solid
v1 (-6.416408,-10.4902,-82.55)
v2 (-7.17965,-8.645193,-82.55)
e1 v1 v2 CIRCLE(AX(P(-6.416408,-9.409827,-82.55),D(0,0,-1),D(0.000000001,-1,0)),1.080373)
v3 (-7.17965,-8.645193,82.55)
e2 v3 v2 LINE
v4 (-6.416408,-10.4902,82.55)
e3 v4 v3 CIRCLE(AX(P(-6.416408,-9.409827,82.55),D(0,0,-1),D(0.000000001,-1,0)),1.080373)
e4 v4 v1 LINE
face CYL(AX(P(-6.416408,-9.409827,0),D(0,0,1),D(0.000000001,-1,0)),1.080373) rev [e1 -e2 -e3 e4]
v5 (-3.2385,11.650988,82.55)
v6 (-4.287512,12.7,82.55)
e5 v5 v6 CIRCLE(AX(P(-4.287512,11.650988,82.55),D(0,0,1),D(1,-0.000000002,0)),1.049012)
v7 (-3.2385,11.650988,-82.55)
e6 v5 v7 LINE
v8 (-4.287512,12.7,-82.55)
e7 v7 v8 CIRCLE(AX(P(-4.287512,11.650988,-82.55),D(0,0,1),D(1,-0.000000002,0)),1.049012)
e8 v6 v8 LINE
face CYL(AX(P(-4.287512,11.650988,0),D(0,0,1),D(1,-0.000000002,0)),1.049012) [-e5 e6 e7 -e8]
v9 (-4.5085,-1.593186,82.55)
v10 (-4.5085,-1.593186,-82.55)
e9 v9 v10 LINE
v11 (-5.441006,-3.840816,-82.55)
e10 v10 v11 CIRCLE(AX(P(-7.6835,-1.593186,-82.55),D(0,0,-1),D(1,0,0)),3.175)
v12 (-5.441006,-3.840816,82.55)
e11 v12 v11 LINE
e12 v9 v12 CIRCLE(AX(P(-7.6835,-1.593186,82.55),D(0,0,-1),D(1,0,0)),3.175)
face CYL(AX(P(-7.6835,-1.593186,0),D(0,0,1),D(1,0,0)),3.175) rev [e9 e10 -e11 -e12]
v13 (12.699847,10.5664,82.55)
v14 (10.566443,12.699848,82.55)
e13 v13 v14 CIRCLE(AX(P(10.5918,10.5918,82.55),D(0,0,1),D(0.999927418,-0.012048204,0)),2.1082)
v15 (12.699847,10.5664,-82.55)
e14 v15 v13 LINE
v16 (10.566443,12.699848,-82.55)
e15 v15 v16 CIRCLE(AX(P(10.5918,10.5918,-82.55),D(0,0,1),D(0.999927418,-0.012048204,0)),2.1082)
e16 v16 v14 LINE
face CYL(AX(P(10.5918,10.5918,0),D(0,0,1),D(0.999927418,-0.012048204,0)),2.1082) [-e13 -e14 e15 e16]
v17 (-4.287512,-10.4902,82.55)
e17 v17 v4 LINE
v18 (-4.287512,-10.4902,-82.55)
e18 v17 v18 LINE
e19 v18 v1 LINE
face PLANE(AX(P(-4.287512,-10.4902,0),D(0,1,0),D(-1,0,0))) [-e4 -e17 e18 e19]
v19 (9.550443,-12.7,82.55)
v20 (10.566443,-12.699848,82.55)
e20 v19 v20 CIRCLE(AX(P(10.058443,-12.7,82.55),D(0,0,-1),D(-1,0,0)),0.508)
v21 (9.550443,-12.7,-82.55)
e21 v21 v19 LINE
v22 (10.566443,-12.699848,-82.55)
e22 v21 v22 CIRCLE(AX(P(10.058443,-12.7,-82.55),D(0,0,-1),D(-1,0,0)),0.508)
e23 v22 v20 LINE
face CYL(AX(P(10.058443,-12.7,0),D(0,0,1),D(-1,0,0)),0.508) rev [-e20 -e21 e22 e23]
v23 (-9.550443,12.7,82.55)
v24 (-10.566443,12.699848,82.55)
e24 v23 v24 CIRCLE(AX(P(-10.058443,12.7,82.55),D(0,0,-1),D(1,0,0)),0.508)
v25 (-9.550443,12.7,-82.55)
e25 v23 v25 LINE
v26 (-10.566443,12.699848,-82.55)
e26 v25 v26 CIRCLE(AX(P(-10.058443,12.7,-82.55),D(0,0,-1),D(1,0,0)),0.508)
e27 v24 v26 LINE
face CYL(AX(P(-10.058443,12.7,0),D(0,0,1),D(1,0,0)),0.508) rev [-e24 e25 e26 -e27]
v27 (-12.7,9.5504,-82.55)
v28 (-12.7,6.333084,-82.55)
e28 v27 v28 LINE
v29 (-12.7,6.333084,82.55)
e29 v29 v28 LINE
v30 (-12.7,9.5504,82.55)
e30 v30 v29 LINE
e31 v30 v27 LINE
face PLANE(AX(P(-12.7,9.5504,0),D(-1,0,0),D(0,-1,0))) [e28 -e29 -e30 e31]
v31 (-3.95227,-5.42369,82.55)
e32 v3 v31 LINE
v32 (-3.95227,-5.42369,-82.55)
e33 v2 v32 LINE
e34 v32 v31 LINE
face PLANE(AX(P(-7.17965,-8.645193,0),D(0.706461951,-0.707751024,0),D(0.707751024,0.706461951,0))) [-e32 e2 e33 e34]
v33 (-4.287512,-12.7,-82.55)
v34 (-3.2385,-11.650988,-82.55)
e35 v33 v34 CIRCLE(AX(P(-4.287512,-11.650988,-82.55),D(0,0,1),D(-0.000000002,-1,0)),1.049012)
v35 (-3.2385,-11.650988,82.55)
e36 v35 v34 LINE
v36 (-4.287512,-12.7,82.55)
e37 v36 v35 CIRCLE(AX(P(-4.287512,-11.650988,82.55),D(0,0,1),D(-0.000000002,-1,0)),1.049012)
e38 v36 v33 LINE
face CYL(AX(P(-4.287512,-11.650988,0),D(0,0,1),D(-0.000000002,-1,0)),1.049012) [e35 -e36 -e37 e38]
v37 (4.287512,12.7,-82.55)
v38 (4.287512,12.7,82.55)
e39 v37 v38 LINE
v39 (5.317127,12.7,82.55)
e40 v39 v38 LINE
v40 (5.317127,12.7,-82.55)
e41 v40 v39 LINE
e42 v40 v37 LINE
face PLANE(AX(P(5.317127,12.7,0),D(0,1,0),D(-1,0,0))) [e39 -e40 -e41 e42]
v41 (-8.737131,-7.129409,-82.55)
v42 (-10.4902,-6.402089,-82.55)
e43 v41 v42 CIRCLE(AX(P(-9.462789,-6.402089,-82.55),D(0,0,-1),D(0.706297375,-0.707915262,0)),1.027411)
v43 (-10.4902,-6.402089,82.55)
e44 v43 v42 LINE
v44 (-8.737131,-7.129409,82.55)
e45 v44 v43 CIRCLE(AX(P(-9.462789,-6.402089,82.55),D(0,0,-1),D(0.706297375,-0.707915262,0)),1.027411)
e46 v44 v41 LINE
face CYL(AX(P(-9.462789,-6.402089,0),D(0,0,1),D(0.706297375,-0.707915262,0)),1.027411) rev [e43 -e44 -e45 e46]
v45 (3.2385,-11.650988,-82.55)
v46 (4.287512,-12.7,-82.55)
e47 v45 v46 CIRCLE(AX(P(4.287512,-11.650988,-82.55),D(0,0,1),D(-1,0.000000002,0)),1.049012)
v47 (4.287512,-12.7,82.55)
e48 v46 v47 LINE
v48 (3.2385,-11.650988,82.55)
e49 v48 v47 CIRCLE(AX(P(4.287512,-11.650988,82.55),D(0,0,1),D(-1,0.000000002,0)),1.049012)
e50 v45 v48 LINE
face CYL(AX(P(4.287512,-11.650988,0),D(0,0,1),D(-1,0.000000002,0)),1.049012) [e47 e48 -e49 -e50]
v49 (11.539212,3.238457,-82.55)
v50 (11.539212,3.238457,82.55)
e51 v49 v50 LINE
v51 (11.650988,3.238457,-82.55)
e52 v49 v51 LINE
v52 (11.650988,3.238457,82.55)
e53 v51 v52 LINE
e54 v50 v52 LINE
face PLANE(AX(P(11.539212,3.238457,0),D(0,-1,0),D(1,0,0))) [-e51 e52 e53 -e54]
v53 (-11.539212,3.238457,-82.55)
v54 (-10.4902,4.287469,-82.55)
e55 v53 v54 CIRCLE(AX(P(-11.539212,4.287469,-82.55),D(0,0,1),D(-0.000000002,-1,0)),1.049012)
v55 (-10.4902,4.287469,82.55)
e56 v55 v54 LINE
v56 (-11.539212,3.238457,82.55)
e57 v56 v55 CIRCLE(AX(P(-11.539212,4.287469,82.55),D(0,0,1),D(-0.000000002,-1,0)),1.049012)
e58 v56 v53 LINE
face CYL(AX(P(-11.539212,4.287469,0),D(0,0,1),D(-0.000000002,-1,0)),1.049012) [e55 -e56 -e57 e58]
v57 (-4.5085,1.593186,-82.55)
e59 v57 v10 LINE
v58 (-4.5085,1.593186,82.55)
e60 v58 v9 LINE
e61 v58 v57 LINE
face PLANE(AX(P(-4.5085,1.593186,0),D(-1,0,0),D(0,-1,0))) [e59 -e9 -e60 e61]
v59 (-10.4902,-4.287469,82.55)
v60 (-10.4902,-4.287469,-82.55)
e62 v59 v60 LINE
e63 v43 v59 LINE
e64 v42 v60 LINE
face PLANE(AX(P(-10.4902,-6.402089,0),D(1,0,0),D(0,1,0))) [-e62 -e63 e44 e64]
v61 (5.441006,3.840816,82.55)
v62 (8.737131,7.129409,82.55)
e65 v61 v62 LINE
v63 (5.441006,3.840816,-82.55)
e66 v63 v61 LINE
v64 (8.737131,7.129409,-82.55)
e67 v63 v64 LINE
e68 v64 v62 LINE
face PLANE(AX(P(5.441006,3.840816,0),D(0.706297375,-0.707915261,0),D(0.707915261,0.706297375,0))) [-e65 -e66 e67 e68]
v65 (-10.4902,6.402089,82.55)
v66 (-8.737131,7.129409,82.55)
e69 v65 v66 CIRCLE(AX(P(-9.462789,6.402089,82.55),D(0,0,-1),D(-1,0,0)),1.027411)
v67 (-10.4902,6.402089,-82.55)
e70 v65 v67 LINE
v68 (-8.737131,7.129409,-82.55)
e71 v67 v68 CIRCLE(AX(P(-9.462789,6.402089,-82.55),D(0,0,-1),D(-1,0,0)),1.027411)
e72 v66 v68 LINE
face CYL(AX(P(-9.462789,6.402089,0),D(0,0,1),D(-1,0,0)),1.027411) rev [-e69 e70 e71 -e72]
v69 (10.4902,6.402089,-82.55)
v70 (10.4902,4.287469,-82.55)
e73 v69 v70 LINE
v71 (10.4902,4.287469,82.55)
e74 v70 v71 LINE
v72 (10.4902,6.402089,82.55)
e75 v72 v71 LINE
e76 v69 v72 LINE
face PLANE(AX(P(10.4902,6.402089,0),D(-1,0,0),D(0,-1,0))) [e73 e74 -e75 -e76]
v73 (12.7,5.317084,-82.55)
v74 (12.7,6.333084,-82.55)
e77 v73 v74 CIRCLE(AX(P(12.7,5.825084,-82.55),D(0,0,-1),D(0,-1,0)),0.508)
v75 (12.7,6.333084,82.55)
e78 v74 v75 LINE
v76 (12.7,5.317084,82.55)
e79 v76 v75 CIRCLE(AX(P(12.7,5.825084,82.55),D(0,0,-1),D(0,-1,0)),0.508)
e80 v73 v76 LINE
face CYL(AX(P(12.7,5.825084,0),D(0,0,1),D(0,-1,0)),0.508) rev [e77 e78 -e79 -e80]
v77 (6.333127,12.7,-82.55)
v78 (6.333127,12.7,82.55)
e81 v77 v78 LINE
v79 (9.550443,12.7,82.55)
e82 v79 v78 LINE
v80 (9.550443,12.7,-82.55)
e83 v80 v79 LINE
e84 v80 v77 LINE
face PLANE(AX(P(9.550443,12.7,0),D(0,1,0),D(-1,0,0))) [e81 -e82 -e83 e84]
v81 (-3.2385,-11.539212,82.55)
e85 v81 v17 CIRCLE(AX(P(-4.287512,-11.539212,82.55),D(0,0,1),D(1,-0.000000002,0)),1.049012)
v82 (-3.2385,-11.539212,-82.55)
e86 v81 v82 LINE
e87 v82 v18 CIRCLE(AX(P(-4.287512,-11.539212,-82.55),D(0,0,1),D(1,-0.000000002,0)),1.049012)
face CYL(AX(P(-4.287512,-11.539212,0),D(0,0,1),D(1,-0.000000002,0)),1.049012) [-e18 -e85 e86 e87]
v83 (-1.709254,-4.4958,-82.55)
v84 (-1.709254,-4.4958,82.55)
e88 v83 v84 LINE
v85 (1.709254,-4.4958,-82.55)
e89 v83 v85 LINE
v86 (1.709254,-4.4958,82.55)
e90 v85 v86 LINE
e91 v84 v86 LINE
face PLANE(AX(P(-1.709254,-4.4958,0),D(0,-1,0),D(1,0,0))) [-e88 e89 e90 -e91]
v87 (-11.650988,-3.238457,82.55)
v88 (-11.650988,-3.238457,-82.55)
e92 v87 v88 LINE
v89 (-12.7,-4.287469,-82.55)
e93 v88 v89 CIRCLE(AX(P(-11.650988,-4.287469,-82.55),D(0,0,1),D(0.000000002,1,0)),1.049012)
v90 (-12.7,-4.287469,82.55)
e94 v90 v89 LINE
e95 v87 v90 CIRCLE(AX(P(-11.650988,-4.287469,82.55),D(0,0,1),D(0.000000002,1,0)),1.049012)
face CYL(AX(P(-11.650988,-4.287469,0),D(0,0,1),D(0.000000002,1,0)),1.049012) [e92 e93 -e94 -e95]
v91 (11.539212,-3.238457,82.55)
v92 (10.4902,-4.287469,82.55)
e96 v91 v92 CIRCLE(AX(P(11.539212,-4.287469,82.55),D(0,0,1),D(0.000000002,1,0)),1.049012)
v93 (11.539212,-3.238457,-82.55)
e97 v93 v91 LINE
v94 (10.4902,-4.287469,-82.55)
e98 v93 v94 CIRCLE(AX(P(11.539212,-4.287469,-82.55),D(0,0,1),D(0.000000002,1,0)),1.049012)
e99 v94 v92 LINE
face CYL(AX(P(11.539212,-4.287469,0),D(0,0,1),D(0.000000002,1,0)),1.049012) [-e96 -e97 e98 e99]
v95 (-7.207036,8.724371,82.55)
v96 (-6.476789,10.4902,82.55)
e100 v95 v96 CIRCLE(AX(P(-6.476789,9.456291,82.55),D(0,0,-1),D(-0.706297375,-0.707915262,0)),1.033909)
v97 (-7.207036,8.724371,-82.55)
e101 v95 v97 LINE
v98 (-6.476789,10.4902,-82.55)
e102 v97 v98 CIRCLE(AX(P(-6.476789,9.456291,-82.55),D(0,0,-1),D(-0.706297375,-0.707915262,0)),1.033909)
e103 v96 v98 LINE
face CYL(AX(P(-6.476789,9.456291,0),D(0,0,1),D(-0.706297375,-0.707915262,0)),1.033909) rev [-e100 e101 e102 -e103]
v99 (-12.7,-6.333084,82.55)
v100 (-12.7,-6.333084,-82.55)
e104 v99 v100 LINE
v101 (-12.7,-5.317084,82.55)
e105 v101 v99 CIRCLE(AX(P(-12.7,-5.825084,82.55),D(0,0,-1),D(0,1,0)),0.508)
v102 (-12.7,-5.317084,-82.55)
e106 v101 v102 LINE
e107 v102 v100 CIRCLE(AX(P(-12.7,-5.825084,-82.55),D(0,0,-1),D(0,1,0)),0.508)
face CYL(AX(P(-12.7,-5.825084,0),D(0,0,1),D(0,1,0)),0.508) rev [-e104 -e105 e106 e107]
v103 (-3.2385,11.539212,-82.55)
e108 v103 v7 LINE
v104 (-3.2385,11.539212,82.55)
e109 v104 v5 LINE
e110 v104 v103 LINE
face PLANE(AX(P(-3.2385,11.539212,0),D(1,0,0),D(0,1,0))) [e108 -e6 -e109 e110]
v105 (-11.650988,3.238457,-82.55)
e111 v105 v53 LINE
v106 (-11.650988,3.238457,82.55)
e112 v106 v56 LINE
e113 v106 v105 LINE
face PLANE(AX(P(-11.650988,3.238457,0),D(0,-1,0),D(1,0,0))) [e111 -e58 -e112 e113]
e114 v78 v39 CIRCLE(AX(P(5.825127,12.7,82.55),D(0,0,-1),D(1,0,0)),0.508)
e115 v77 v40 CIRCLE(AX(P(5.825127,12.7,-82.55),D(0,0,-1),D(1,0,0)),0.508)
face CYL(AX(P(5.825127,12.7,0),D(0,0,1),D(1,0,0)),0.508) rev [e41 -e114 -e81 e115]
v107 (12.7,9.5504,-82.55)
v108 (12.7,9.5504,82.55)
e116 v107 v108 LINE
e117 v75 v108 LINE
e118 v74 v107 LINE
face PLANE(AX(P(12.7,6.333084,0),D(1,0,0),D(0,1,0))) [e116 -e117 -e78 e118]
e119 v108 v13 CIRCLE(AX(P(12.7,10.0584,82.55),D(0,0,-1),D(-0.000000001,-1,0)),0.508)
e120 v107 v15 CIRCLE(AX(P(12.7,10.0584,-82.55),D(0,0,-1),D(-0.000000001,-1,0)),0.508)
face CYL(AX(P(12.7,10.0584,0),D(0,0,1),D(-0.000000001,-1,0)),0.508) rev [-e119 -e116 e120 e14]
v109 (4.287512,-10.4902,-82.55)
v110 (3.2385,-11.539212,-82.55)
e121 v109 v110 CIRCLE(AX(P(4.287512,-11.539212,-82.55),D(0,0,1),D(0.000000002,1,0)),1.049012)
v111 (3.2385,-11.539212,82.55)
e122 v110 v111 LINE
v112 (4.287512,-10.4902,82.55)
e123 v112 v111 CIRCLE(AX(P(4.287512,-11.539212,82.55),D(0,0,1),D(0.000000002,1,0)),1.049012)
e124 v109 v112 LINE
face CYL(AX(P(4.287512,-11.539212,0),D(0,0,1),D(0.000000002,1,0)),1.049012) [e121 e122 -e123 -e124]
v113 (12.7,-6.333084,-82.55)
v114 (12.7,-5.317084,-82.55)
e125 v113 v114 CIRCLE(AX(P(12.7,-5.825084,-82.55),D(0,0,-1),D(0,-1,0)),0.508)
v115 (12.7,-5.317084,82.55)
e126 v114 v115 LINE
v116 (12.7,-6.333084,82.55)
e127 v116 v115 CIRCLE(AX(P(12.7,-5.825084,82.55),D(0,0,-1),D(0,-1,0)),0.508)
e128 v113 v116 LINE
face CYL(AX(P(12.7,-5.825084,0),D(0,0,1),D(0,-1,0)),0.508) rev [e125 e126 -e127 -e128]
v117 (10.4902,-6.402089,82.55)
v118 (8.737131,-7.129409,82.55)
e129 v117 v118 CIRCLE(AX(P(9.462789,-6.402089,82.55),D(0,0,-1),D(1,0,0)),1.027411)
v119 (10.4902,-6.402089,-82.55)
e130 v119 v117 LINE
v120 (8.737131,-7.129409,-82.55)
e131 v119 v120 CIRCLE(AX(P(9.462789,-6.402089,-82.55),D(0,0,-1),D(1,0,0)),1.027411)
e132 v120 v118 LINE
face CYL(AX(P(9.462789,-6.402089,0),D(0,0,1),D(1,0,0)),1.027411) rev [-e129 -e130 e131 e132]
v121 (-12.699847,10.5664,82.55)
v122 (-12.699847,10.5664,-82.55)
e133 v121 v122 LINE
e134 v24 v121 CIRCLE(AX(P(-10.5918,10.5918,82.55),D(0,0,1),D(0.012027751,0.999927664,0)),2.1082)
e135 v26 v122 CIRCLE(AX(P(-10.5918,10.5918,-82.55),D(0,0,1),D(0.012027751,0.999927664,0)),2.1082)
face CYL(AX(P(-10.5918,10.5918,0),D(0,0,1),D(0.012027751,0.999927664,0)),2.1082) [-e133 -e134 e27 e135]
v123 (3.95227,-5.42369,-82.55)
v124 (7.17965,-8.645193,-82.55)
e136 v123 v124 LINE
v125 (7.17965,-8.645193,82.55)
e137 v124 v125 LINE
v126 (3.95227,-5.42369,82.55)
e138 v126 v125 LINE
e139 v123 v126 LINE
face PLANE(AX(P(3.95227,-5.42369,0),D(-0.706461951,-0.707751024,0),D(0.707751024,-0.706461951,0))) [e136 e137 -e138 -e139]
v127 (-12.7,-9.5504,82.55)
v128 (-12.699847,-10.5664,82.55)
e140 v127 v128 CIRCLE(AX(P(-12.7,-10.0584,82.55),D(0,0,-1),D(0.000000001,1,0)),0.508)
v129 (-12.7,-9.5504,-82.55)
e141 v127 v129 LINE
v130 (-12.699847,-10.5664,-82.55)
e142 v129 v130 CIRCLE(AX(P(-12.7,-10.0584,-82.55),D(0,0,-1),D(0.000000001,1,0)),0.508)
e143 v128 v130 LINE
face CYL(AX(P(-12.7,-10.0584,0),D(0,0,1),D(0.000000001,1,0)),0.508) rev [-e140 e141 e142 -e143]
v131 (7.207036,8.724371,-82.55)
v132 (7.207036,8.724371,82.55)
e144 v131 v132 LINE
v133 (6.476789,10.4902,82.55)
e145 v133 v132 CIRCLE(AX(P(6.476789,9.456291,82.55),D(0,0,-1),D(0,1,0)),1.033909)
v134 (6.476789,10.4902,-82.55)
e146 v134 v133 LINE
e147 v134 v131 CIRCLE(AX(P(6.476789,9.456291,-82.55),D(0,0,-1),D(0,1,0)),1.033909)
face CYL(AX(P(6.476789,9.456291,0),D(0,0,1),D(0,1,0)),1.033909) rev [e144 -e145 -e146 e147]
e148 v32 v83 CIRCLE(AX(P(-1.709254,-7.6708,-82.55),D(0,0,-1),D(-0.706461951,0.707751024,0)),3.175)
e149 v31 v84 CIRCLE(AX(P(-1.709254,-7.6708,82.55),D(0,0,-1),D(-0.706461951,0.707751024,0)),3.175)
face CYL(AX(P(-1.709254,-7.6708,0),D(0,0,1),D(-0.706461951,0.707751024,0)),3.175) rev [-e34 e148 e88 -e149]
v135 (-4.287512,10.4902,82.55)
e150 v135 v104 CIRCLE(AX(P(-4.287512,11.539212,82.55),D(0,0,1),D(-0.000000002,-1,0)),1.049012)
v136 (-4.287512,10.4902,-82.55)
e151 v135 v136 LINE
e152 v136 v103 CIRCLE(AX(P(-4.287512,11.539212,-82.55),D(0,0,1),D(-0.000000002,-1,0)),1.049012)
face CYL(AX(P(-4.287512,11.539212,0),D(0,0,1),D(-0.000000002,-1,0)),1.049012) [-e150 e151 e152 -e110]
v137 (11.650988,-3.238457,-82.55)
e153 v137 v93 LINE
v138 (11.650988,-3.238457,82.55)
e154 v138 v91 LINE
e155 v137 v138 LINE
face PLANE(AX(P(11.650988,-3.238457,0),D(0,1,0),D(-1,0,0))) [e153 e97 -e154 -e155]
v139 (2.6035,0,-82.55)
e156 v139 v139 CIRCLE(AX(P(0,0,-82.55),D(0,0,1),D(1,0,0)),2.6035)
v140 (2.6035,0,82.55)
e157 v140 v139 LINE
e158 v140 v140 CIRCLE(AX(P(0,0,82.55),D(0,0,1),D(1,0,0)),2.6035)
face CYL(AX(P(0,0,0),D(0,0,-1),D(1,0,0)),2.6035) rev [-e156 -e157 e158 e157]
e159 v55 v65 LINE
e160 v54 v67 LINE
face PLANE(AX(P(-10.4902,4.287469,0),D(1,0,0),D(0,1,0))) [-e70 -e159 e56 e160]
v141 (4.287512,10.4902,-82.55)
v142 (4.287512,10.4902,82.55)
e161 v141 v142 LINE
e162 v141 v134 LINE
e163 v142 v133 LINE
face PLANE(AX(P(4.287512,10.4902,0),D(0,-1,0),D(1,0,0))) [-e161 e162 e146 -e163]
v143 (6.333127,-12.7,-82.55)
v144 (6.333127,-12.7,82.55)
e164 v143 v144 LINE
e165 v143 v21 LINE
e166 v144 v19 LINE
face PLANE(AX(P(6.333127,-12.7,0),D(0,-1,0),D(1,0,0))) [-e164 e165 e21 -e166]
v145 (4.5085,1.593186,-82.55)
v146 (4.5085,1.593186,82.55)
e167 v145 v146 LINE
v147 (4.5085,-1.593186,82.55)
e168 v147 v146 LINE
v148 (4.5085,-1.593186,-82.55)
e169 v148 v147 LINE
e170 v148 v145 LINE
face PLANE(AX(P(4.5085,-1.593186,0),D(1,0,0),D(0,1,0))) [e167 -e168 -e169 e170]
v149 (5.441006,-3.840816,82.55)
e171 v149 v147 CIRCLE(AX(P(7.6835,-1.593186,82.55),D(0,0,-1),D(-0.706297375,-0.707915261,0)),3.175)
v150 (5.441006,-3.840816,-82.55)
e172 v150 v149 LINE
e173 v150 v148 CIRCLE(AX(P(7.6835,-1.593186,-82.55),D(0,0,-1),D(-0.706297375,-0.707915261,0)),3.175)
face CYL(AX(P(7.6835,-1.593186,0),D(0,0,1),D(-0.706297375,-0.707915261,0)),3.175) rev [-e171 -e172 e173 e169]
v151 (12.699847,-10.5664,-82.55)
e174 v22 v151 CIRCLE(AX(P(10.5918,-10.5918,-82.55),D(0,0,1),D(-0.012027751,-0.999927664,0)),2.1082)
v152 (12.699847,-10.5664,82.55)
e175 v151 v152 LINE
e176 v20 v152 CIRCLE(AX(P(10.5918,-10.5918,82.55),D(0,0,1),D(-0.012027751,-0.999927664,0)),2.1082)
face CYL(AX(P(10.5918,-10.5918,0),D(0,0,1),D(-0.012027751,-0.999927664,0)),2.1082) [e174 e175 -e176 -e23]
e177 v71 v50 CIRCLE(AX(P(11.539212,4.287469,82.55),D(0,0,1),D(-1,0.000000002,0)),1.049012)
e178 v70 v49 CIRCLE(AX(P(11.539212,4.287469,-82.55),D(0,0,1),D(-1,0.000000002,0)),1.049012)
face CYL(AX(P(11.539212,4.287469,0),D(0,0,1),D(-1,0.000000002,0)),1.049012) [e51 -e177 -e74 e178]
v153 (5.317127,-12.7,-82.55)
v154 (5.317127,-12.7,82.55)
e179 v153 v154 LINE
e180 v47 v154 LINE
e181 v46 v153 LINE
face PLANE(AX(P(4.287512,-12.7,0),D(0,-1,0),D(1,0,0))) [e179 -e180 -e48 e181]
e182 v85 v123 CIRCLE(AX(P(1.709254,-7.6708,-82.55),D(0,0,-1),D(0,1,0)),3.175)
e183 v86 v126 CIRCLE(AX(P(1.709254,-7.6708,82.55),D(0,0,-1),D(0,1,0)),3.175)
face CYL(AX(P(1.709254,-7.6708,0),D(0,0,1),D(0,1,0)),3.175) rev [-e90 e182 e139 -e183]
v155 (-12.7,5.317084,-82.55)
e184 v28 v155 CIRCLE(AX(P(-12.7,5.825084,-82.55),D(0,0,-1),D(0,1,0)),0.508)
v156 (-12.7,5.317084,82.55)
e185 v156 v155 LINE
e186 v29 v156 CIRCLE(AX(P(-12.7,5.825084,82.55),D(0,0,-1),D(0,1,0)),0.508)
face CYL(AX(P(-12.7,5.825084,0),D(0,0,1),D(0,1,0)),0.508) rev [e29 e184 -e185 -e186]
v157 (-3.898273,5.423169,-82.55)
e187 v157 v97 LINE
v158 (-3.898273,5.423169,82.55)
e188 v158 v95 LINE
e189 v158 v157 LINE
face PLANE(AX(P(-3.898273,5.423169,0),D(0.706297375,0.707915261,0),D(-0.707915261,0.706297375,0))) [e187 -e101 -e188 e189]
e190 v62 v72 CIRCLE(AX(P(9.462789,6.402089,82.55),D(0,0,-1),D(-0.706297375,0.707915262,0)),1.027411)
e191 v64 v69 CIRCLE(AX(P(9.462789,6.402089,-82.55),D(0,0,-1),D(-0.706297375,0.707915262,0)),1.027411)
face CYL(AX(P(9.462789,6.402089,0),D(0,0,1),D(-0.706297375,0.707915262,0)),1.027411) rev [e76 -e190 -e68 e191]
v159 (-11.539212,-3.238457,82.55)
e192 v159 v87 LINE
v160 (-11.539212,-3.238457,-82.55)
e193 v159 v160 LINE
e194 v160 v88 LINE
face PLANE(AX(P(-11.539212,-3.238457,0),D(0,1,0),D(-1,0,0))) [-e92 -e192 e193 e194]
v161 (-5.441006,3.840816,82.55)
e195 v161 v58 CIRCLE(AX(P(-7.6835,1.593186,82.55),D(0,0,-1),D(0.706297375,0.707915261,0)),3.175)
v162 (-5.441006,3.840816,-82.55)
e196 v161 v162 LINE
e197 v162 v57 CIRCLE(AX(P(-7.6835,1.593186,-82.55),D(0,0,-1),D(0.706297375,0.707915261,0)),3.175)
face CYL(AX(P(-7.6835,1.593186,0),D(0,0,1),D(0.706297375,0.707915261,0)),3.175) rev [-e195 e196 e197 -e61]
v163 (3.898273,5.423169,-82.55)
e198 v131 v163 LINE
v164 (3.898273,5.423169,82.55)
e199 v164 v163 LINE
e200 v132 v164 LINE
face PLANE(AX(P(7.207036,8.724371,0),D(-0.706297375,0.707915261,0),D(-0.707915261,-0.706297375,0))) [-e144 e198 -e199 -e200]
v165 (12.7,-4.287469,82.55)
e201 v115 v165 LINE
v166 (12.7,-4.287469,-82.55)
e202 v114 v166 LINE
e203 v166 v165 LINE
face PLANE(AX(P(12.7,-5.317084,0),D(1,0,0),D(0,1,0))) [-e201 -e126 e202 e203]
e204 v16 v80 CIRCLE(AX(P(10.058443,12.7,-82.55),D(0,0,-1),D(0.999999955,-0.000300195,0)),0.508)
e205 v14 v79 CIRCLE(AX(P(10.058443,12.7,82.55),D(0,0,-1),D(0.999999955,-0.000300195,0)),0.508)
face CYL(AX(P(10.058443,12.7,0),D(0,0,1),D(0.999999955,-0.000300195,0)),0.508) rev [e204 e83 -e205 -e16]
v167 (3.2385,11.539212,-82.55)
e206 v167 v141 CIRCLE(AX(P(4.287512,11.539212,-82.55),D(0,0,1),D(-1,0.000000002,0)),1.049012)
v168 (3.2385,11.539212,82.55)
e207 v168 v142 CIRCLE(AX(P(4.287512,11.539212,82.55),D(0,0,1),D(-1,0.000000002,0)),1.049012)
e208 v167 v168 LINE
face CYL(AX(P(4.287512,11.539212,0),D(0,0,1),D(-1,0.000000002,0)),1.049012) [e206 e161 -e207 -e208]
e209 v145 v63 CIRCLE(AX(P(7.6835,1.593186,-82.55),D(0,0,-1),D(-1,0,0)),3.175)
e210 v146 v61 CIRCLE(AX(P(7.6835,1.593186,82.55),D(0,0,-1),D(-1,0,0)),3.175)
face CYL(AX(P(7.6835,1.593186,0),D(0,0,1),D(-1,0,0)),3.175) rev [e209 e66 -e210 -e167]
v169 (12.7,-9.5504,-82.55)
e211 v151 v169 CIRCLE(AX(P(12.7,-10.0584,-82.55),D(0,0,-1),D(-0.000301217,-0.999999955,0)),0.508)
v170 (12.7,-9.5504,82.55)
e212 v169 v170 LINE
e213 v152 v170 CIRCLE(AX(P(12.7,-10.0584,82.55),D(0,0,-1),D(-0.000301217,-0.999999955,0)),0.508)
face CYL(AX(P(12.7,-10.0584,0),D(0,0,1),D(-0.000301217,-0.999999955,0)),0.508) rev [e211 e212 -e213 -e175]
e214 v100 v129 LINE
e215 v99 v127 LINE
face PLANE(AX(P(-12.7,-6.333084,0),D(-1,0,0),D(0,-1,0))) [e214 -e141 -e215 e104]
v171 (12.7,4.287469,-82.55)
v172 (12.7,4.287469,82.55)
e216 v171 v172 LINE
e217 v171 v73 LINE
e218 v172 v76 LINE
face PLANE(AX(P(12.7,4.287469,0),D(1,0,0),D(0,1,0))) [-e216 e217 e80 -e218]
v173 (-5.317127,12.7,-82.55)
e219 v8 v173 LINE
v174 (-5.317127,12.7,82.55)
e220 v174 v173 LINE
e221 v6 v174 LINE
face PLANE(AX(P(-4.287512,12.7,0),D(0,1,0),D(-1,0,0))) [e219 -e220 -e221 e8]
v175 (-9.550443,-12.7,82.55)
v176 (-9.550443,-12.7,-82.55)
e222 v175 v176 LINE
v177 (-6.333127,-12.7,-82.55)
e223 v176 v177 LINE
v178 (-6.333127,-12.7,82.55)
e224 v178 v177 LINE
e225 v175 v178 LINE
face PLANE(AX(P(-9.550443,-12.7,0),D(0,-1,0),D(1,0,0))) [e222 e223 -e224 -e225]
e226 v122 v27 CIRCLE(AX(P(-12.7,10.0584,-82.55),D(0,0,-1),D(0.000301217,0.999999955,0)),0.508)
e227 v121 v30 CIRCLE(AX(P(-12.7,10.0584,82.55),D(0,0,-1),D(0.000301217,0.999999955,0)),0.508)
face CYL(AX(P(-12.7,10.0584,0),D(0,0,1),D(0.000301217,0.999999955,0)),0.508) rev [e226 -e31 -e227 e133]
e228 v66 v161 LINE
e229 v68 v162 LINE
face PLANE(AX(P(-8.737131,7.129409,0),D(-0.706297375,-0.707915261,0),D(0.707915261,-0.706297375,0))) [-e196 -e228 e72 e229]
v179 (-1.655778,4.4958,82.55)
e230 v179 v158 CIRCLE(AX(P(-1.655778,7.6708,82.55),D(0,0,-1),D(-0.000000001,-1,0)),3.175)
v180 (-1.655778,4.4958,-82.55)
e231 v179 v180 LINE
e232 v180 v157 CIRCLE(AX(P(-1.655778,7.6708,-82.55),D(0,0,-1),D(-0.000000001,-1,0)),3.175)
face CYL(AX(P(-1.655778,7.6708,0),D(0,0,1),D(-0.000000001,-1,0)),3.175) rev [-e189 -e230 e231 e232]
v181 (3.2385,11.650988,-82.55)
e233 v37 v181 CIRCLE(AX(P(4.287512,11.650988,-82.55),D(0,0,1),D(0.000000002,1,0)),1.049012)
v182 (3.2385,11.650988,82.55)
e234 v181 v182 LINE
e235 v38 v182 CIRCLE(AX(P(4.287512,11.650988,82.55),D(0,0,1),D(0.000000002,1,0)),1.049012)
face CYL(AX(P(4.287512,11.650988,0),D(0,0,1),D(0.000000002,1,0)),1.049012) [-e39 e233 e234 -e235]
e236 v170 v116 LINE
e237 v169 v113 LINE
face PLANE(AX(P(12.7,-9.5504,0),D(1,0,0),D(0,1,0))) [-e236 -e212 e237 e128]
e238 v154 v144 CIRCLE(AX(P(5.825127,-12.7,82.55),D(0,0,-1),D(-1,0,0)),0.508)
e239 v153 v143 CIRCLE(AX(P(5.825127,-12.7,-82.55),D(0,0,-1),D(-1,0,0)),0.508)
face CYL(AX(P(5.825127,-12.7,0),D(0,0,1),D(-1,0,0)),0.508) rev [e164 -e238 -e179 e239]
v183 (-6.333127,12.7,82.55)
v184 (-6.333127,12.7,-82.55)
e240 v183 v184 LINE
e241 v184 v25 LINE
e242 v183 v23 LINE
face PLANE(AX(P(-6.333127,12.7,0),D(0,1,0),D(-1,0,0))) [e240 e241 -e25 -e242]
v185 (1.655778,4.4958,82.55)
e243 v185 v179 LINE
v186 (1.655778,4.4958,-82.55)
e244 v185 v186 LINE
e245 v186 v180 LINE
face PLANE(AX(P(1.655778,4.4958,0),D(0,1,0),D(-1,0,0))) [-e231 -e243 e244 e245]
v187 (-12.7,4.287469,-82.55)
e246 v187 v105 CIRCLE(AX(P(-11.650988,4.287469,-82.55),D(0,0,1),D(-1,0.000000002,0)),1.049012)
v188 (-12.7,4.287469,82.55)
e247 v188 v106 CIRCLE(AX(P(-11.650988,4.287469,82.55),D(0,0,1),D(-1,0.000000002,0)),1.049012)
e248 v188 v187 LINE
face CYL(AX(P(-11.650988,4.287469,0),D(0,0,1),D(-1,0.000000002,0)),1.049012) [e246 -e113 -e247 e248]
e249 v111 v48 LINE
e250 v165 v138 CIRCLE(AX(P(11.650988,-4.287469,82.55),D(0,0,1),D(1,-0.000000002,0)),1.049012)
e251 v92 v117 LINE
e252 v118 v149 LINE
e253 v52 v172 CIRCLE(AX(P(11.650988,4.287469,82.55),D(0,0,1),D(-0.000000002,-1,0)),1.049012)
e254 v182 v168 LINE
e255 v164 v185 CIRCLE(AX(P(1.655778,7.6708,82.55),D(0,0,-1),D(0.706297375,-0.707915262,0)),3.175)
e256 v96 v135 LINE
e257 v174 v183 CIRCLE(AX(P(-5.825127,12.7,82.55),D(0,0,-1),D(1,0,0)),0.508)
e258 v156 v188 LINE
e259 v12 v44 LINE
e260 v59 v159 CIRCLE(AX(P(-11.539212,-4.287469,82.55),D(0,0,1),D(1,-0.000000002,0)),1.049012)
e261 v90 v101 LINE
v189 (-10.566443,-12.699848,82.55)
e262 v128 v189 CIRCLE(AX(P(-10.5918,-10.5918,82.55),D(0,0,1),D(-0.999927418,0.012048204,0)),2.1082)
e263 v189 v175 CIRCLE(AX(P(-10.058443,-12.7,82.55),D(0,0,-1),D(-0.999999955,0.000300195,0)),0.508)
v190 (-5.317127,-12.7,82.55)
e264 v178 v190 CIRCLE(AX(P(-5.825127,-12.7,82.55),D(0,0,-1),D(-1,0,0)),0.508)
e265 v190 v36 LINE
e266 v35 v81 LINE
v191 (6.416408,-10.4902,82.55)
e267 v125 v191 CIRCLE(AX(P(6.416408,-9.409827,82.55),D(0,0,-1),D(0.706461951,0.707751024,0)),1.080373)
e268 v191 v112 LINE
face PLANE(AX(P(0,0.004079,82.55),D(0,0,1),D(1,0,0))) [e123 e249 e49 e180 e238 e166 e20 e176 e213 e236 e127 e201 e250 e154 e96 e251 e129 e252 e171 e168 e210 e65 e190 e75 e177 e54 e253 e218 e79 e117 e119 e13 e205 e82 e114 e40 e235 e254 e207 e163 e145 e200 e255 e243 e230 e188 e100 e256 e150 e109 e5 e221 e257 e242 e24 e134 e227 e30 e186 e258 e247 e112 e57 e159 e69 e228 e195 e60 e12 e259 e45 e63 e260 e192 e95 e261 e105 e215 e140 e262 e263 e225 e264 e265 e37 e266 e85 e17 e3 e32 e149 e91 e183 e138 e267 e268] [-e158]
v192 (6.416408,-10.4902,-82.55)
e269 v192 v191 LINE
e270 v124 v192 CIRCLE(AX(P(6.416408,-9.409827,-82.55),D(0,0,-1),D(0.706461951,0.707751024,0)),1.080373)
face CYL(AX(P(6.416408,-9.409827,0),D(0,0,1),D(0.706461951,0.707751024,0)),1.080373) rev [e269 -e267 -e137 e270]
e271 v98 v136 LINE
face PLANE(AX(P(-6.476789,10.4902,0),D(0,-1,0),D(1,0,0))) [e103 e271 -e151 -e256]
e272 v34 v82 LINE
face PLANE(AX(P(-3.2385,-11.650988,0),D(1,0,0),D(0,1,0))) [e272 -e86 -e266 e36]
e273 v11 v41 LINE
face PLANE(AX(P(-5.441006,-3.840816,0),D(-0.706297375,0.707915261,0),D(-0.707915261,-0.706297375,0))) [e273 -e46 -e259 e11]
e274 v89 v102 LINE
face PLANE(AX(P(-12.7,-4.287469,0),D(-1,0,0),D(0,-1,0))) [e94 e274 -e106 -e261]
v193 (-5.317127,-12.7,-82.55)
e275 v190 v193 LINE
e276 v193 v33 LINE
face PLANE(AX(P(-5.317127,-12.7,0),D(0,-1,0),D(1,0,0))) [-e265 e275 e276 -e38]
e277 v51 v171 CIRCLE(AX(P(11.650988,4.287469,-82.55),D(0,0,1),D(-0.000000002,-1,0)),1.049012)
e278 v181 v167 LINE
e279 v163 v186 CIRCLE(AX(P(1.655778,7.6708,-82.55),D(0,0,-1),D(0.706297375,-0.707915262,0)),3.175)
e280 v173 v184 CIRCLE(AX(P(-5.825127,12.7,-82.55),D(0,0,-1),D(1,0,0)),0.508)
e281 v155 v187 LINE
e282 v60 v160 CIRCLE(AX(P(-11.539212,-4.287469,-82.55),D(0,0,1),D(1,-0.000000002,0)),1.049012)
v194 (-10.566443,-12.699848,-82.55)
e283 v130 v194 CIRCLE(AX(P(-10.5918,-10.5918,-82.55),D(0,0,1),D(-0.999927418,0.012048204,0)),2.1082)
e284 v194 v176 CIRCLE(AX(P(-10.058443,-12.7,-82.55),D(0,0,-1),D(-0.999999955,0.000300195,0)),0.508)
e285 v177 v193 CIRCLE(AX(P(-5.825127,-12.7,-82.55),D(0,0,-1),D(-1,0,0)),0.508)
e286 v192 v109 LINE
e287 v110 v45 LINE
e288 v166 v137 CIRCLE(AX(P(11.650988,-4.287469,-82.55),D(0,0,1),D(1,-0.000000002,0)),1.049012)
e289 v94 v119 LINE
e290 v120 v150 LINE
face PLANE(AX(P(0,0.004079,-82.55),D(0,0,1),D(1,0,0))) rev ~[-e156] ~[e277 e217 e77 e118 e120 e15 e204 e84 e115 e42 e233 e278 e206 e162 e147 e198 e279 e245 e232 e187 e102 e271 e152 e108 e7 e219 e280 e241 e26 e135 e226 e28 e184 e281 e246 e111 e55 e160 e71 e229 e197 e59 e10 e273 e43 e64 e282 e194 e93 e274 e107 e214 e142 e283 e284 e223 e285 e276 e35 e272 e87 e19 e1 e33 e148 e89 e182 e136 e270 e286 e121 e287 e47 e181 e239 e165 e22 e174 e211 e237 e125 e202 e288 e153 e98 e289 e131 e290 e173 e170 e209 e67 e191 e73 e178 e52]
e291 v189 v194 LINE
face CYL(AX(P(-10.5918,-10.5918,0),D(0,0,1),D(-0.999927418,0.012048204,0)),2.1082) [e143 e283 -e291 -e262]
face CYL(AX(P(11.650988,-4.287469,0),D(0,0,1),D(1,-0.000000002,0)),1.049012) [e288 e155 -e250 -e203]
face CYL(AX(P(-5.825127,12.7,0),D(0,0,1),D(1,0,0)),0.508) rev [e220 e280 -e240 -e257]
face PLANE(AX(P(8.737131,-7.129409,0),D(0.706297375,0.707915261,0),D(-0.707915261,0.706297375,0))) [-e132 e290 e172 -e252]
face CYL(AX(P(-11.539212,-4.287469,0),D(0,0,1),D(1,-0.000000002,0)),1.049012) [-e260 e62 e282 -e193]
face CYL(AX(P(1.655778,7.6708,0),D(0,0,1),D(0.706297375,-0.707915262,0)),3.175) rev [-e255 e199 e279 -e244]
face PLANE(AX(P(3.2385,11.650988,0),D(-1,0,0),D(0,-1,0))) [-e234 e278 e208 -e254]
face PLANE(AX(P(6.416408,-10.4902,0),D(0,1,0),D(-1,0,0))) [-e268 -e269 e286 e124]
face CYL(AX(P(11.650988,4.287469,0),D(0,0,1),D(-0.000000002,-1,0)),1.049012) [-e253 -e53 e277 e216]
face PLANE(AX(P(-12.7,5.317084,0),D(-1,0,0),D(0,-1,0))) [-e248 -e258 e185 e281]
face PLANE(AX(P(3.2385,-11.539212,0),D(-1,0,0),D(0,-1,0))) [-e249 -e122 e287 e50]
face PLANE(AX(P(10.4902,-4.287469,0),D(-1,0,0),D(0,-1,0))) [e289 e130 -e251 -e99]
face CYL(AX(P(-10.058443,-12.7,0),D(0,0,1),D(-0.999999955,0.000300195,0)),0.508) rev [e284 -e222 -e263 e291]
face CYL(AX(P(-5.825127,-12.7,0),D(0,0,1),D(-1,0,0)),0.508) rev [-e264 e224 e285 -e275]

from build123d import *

# Parameters (mm, degrees)
SKETCH1_R           = 2.6035
BOSS_EXTRUDE1_DEPTH = 82.55


with BuildPart() as part:
    # Sketch1 → Boss-Extrude1 (new body, symmetric)
    with BuildSketch(Plane.XY):
        with BuildLine():
            Line((-7.179650497, -8.645192506), (-3.952270251, -5.423690499))
            ThreePointArc((-3.952270251, -5.423690499), (-2.922936451, -4.736929036), (-1.709253557, -4.4958))
            Line((-1.709253557, -4.4958), (1.709253557, -4.4958))
            ThreePointArc((1.709253557, -4.4958), (2.922936451, -4.736929036), (3.952270251, -5.423690499))
            Line((3.952270251, -5.423690499), (7.179650497, -8.645192506))
            ThreePointArc((7.179650497, -8.645192506), (7.41473083, -9.822813117), (6.416408329, -10.4902))
            Line((6.416408329, -10.4902), (4.287512407, -10.4902))
            ThreePointArc((4.287512407, -10.4902), (3.54574862, -10.79744862), (3.2385, -11.539212407))
            Line((3.2385, -11.539212407), (3.2385, -11.650987593))
            ThreePointArc((3.2385, -11.650987593), (3.54574862, -12.39275138), (4.287512407, -12.7))
            Line((4.287512407, -12.7), (5.317126718, -12.7))
            ThreePointArc((5.317126718, -12.7), (5.825126718, -12.192), (6.333126718, -12.7))
            Line((6.333126718, -12.7), (9.550443118, -12.7))
            ThreePointArc((9.550443118, -12.7), (10.058366869, -12.192000006), (10.566443095, -12.699847501))
            ThreePointArc((10.566443095, -12.699847501), (12.082537762, -12.08250727), (12.699846982, -10.566399977))
            ThreePointArc((12.699846982, -10.566399977), (12.192000006, -10.058323491), (12.7, -9.5504))
            Line((12.7, -9.5504), (12.7, -6.3330836))
            ThreePointArc((12.7, -6.3330836), (12.192, -5.8250836), (12.7, -5.3170836))
            Line((12.7, -5.3170836), (12.7, -4.287469289))
            ThreePointArc((12.7, -4.287469289), (12.39275138, -3.545705502), (11.650987593, -3.238456882))
            Line((11.650987593, -3.238456882), (11.539212407, -3.238456882))
            ThreePointArc((11.539212407, -3.238456882), (10.79744862, -3.545705502), (10.4902, -4.287469289))
            Line((10.4902, -4.287469289), (10.4902, -6.402089023))
            ThreePointArc((10.4902, -6.402089023), (9.856505071, -7.351067942), (8.737131347, -7.129408934))
            Line((8.737131347, -7.129408934), (5.441005833, -3.840816462))
            ThreePointArc((5.441005833, -3.840816462), (4.750877967, -2.809883091), (4.5085, -1.593185507))
            Line((4.5085, -1.593185507), (4.5085, 1.593185507))
            ThreePointArc((4.5085, 1.593185507), (4.750877967, 2.809883091), (5.441005833, 3.840816462))
            Line((5.441005833, 3.840816462), (8.737131347, 7.129408934))
            ThreePointArc((8.737131347, 7.129408934), (9.856505071, 7.351067942), (10.4902, 6.402089023))
            Line((10.4902, 6.402089023), (10.4902, 4.287469289))
            ThreePointArc((10.4902, 4.287469289), (10.79744862, 3.545705502), (11.539212407, 3.238456882))
            Line((11.539212407, 3.238456882), (11.650987593, 3.238456882))
            ThreePointArc((11.650987593, 3.238456882), (12.39275138, 3.545705502), (12.7, 4.287469289))
            Line((12.7, 4.287469289), (12.7, 5.3170836))
            ThreePointArc((12.7, 5.3170836), (12.192, 5.8250836), (12.7, 6.3330836))
            Line((12.7, 6.3330836), (12.7, 9.5504))
            ThreePointArc((12.7, 9.5504), (12.192000006, 10.058323491), (12.699846982, 10.566399977))
            ThreePointArc((12.699846982, 10.566399977), (12.082537762, 12.08250727), (10.566443095, 12.699847501))
            ThreePointArc((10.566443095, 12.699847501), (10.058366869, 12.192000006), (9.550443118, 12.7))
            Line((9.550443118, 12.7), (6.333126718, 12.7))
            ThreePointArc((6.333126718, 12.7), (5.825126718, 12.192), (5.317126718, 12.7))
            Line((5.317126718, 12.7), (4.287512407, 12.7))
            ThreePointArc((4.287512407, 12.7), (3.54574862, 12.39275138), (3.2385, 11.650987593))
            Line((3.2385, 11.650987593), (3.2385, 11.539212407))
            ThreePointArc((3.2385, 11.539212407), (3.54574862, 10.79744862), (4.287512407, 10.4902))
            Line((4.287512407, 10.4902), (6.476788598, 10.4902))
            ThreePointArc((6.476788598, 10.4902), (7.432222385, 9.85140422), (7.207036008, 8.724370562))
            Line((7.207036008, 8.724370562), (3.898272566, 5.423169045))
            ThreePointArc((3.898272566, 5.423169045), (2.869120213, 4.736787962), (1.655778399, 4.4958))
            Line((1.655778399, 4.4958), (-1.655778399, 4.4958))
            ThreePointArc((-1.655778399, 4.4958), (-2.869120213, 4.736787962), (-3.898272566, 5.423169045))
            Line((-3.898272566, 5.423169045), (-7.207036008, 8.724370562))
            ThreePointArc((-7.207036008, 8.724370562), (-7.432222385, 9.85140422), (-6.476788598, 10.4902))
            Line((-6.476788598, 10.4902), (-4.287512407, 10.4902))
            ThreePointArc((-4.287512407, 10.4902), (-3.54574862, 10.79744862), (-3.2385, 11.539212407))
            Line((-3.2385, 11.539212407), (-3.2385, 11.650987593))
            ThreePointArc((-3.2385, 11.650987593), (-3.54574862, 12.39275138), (-4.287512407, 12.7))
            Line((-4.287512407, 12.7), (-5.317126718, 12.7))
            ThreePointArc((-5.317126718, 12.7), (-5.825126718, 12.192), (-6.333126718, 12.7))
            Line((-6.333126718, 12.7), (-9.550443118, 12.7))
            ThreePointArc((-9.550443118, 12.7), (-10.058366869, 12.192000006), (-10.566443095, 12.699847501))
            ThreePointArc((-10.566443095, 12.699847501), (-12.082537762, 12.08250727), (-12.699846982, 10.566399977))
            ThreePointArc((-12.699846982, 10.566399977), (-12.192000006, 10.058323491), (-12.7, 9.5504))
            Line((-12.7, 9.5504), (-12.7, 6.3330836))
            ThreePointArc((-12.7, 6.3330836), (-12.192, 5.8250836), (-12.7, 5.3170836))
            Line((-12.7, 5.3170836), (-12.7, 4.287469289))
            ThreePointArc((-12.7, 4.287469289), (-12.39275138, 3.545705502), (-11.650987593, 3.238456882))
            Line((-11.650987593, 3.238456882), (-11.539212407, 3.238456882))
            ThreePointArc((-11.539212407, 3.238456882), (-10.79744862, 3.545705502), (-10.4902, 4.287469289))
            Line((-10.4902, 4.287469289), (-10.4902, 6.402089023))
            ThreePointArc((-10.4902, 6.402089023), (-9.856505071, 7.351067942), (-8.737131347, 7.129408934))
            Line((-8.737131347, 7.129408934), (-5.441005833, 3.840816462))
            ThreePointArc((-5.441005833, 3.840816462), (-4.750877967, 2.809883091), (-4.5085, 1.593185507))
            Line((-4.5085, 1.593185507), (-4.5085, -1.593185507))
            ThreePointArc((-4.5085, -1.593185507), (-4.750877967, -2.809883091), (-5.441005833, -3.840816462))
            Line((-5.441005833, -3.840816462), (-8.737131347, -7.129408934))
            ThreePointArc((-8.737131347, -7.129408934), (-9.856505071, -7.351067942), (-10.4902, -6.402089023))
            Line((-10.4902, -6.402089023), (-10.4902, -4.287469289))
            ThreePointArc((-10.4902, -4.287469289), (-10.79744862, -3.545705502), (-11.539212407, -3.238456882))
            Line((-11.539212407, -3.238456882), (-11.650987593, -3.238456882))
            ThreePointArc((-11.650987593, -3.238456882), (-12.39275138, -3.545705502), (-12.7, -4.287469289))
            Line((-12.7, -4.287469289), (-12.7, -5.3170836))
            ThreePointArc((-12.7, -5.3170836), (-12.192, -5.8250836), (-12.7, -6.3330836))
            Line((-12.7, -6.3330836), (-12.7, -9.5504))
            ThreePointArc((-12.7, -9.5504), (-12.192000006, -10.058323491), (-12.699846982, -10.566399977))
            ThreePointArc((-12.699846982, -10.566399977), (-12.082537762, -12.08250727), (-10.566443095, -12.699847501))
            ThreePointArc((-10.566443095, -12.699847501), (-10.058366869, -12.192000006), (-9.550443118, -12.7))
            Line((-9.550443118, -12.7), (-6.333126718, -12.7))
            ThreePointArc((-6.333126718, -12.7), (-5.825126718, -12.192), (-5.317126718, -12.7))
            Line((-5.317126718, -12.7), (-4.287512407, -12.7))
            ThreePointArc((-4.287512407, -12.7), (-3.54574862, -12.39275138), (-3.2385, -11.650987593))
            Line((-3.2385, -11.650987593), (-3.2385, -11.539212407))
            ThreePointArc((-3.2385, -11.539212407), (-3.54574862, -10.79744862), (-4.287512407, -10.4902))
            Line((-4.287512407, -10.4902), (-6.416408329, -10.4902))
            ThreePointArc((-6.416408329, -10.4902), (-7.41473083, -9.822813117), (-7.179650497, -8.645192506))
        make_face()
        Circle(SKETCH1_R, mode=Mode.SUBTRACT)
    extrude(amount=BOSS_EXTRUDE1_DEPTH, both=True)


solid = part.part
